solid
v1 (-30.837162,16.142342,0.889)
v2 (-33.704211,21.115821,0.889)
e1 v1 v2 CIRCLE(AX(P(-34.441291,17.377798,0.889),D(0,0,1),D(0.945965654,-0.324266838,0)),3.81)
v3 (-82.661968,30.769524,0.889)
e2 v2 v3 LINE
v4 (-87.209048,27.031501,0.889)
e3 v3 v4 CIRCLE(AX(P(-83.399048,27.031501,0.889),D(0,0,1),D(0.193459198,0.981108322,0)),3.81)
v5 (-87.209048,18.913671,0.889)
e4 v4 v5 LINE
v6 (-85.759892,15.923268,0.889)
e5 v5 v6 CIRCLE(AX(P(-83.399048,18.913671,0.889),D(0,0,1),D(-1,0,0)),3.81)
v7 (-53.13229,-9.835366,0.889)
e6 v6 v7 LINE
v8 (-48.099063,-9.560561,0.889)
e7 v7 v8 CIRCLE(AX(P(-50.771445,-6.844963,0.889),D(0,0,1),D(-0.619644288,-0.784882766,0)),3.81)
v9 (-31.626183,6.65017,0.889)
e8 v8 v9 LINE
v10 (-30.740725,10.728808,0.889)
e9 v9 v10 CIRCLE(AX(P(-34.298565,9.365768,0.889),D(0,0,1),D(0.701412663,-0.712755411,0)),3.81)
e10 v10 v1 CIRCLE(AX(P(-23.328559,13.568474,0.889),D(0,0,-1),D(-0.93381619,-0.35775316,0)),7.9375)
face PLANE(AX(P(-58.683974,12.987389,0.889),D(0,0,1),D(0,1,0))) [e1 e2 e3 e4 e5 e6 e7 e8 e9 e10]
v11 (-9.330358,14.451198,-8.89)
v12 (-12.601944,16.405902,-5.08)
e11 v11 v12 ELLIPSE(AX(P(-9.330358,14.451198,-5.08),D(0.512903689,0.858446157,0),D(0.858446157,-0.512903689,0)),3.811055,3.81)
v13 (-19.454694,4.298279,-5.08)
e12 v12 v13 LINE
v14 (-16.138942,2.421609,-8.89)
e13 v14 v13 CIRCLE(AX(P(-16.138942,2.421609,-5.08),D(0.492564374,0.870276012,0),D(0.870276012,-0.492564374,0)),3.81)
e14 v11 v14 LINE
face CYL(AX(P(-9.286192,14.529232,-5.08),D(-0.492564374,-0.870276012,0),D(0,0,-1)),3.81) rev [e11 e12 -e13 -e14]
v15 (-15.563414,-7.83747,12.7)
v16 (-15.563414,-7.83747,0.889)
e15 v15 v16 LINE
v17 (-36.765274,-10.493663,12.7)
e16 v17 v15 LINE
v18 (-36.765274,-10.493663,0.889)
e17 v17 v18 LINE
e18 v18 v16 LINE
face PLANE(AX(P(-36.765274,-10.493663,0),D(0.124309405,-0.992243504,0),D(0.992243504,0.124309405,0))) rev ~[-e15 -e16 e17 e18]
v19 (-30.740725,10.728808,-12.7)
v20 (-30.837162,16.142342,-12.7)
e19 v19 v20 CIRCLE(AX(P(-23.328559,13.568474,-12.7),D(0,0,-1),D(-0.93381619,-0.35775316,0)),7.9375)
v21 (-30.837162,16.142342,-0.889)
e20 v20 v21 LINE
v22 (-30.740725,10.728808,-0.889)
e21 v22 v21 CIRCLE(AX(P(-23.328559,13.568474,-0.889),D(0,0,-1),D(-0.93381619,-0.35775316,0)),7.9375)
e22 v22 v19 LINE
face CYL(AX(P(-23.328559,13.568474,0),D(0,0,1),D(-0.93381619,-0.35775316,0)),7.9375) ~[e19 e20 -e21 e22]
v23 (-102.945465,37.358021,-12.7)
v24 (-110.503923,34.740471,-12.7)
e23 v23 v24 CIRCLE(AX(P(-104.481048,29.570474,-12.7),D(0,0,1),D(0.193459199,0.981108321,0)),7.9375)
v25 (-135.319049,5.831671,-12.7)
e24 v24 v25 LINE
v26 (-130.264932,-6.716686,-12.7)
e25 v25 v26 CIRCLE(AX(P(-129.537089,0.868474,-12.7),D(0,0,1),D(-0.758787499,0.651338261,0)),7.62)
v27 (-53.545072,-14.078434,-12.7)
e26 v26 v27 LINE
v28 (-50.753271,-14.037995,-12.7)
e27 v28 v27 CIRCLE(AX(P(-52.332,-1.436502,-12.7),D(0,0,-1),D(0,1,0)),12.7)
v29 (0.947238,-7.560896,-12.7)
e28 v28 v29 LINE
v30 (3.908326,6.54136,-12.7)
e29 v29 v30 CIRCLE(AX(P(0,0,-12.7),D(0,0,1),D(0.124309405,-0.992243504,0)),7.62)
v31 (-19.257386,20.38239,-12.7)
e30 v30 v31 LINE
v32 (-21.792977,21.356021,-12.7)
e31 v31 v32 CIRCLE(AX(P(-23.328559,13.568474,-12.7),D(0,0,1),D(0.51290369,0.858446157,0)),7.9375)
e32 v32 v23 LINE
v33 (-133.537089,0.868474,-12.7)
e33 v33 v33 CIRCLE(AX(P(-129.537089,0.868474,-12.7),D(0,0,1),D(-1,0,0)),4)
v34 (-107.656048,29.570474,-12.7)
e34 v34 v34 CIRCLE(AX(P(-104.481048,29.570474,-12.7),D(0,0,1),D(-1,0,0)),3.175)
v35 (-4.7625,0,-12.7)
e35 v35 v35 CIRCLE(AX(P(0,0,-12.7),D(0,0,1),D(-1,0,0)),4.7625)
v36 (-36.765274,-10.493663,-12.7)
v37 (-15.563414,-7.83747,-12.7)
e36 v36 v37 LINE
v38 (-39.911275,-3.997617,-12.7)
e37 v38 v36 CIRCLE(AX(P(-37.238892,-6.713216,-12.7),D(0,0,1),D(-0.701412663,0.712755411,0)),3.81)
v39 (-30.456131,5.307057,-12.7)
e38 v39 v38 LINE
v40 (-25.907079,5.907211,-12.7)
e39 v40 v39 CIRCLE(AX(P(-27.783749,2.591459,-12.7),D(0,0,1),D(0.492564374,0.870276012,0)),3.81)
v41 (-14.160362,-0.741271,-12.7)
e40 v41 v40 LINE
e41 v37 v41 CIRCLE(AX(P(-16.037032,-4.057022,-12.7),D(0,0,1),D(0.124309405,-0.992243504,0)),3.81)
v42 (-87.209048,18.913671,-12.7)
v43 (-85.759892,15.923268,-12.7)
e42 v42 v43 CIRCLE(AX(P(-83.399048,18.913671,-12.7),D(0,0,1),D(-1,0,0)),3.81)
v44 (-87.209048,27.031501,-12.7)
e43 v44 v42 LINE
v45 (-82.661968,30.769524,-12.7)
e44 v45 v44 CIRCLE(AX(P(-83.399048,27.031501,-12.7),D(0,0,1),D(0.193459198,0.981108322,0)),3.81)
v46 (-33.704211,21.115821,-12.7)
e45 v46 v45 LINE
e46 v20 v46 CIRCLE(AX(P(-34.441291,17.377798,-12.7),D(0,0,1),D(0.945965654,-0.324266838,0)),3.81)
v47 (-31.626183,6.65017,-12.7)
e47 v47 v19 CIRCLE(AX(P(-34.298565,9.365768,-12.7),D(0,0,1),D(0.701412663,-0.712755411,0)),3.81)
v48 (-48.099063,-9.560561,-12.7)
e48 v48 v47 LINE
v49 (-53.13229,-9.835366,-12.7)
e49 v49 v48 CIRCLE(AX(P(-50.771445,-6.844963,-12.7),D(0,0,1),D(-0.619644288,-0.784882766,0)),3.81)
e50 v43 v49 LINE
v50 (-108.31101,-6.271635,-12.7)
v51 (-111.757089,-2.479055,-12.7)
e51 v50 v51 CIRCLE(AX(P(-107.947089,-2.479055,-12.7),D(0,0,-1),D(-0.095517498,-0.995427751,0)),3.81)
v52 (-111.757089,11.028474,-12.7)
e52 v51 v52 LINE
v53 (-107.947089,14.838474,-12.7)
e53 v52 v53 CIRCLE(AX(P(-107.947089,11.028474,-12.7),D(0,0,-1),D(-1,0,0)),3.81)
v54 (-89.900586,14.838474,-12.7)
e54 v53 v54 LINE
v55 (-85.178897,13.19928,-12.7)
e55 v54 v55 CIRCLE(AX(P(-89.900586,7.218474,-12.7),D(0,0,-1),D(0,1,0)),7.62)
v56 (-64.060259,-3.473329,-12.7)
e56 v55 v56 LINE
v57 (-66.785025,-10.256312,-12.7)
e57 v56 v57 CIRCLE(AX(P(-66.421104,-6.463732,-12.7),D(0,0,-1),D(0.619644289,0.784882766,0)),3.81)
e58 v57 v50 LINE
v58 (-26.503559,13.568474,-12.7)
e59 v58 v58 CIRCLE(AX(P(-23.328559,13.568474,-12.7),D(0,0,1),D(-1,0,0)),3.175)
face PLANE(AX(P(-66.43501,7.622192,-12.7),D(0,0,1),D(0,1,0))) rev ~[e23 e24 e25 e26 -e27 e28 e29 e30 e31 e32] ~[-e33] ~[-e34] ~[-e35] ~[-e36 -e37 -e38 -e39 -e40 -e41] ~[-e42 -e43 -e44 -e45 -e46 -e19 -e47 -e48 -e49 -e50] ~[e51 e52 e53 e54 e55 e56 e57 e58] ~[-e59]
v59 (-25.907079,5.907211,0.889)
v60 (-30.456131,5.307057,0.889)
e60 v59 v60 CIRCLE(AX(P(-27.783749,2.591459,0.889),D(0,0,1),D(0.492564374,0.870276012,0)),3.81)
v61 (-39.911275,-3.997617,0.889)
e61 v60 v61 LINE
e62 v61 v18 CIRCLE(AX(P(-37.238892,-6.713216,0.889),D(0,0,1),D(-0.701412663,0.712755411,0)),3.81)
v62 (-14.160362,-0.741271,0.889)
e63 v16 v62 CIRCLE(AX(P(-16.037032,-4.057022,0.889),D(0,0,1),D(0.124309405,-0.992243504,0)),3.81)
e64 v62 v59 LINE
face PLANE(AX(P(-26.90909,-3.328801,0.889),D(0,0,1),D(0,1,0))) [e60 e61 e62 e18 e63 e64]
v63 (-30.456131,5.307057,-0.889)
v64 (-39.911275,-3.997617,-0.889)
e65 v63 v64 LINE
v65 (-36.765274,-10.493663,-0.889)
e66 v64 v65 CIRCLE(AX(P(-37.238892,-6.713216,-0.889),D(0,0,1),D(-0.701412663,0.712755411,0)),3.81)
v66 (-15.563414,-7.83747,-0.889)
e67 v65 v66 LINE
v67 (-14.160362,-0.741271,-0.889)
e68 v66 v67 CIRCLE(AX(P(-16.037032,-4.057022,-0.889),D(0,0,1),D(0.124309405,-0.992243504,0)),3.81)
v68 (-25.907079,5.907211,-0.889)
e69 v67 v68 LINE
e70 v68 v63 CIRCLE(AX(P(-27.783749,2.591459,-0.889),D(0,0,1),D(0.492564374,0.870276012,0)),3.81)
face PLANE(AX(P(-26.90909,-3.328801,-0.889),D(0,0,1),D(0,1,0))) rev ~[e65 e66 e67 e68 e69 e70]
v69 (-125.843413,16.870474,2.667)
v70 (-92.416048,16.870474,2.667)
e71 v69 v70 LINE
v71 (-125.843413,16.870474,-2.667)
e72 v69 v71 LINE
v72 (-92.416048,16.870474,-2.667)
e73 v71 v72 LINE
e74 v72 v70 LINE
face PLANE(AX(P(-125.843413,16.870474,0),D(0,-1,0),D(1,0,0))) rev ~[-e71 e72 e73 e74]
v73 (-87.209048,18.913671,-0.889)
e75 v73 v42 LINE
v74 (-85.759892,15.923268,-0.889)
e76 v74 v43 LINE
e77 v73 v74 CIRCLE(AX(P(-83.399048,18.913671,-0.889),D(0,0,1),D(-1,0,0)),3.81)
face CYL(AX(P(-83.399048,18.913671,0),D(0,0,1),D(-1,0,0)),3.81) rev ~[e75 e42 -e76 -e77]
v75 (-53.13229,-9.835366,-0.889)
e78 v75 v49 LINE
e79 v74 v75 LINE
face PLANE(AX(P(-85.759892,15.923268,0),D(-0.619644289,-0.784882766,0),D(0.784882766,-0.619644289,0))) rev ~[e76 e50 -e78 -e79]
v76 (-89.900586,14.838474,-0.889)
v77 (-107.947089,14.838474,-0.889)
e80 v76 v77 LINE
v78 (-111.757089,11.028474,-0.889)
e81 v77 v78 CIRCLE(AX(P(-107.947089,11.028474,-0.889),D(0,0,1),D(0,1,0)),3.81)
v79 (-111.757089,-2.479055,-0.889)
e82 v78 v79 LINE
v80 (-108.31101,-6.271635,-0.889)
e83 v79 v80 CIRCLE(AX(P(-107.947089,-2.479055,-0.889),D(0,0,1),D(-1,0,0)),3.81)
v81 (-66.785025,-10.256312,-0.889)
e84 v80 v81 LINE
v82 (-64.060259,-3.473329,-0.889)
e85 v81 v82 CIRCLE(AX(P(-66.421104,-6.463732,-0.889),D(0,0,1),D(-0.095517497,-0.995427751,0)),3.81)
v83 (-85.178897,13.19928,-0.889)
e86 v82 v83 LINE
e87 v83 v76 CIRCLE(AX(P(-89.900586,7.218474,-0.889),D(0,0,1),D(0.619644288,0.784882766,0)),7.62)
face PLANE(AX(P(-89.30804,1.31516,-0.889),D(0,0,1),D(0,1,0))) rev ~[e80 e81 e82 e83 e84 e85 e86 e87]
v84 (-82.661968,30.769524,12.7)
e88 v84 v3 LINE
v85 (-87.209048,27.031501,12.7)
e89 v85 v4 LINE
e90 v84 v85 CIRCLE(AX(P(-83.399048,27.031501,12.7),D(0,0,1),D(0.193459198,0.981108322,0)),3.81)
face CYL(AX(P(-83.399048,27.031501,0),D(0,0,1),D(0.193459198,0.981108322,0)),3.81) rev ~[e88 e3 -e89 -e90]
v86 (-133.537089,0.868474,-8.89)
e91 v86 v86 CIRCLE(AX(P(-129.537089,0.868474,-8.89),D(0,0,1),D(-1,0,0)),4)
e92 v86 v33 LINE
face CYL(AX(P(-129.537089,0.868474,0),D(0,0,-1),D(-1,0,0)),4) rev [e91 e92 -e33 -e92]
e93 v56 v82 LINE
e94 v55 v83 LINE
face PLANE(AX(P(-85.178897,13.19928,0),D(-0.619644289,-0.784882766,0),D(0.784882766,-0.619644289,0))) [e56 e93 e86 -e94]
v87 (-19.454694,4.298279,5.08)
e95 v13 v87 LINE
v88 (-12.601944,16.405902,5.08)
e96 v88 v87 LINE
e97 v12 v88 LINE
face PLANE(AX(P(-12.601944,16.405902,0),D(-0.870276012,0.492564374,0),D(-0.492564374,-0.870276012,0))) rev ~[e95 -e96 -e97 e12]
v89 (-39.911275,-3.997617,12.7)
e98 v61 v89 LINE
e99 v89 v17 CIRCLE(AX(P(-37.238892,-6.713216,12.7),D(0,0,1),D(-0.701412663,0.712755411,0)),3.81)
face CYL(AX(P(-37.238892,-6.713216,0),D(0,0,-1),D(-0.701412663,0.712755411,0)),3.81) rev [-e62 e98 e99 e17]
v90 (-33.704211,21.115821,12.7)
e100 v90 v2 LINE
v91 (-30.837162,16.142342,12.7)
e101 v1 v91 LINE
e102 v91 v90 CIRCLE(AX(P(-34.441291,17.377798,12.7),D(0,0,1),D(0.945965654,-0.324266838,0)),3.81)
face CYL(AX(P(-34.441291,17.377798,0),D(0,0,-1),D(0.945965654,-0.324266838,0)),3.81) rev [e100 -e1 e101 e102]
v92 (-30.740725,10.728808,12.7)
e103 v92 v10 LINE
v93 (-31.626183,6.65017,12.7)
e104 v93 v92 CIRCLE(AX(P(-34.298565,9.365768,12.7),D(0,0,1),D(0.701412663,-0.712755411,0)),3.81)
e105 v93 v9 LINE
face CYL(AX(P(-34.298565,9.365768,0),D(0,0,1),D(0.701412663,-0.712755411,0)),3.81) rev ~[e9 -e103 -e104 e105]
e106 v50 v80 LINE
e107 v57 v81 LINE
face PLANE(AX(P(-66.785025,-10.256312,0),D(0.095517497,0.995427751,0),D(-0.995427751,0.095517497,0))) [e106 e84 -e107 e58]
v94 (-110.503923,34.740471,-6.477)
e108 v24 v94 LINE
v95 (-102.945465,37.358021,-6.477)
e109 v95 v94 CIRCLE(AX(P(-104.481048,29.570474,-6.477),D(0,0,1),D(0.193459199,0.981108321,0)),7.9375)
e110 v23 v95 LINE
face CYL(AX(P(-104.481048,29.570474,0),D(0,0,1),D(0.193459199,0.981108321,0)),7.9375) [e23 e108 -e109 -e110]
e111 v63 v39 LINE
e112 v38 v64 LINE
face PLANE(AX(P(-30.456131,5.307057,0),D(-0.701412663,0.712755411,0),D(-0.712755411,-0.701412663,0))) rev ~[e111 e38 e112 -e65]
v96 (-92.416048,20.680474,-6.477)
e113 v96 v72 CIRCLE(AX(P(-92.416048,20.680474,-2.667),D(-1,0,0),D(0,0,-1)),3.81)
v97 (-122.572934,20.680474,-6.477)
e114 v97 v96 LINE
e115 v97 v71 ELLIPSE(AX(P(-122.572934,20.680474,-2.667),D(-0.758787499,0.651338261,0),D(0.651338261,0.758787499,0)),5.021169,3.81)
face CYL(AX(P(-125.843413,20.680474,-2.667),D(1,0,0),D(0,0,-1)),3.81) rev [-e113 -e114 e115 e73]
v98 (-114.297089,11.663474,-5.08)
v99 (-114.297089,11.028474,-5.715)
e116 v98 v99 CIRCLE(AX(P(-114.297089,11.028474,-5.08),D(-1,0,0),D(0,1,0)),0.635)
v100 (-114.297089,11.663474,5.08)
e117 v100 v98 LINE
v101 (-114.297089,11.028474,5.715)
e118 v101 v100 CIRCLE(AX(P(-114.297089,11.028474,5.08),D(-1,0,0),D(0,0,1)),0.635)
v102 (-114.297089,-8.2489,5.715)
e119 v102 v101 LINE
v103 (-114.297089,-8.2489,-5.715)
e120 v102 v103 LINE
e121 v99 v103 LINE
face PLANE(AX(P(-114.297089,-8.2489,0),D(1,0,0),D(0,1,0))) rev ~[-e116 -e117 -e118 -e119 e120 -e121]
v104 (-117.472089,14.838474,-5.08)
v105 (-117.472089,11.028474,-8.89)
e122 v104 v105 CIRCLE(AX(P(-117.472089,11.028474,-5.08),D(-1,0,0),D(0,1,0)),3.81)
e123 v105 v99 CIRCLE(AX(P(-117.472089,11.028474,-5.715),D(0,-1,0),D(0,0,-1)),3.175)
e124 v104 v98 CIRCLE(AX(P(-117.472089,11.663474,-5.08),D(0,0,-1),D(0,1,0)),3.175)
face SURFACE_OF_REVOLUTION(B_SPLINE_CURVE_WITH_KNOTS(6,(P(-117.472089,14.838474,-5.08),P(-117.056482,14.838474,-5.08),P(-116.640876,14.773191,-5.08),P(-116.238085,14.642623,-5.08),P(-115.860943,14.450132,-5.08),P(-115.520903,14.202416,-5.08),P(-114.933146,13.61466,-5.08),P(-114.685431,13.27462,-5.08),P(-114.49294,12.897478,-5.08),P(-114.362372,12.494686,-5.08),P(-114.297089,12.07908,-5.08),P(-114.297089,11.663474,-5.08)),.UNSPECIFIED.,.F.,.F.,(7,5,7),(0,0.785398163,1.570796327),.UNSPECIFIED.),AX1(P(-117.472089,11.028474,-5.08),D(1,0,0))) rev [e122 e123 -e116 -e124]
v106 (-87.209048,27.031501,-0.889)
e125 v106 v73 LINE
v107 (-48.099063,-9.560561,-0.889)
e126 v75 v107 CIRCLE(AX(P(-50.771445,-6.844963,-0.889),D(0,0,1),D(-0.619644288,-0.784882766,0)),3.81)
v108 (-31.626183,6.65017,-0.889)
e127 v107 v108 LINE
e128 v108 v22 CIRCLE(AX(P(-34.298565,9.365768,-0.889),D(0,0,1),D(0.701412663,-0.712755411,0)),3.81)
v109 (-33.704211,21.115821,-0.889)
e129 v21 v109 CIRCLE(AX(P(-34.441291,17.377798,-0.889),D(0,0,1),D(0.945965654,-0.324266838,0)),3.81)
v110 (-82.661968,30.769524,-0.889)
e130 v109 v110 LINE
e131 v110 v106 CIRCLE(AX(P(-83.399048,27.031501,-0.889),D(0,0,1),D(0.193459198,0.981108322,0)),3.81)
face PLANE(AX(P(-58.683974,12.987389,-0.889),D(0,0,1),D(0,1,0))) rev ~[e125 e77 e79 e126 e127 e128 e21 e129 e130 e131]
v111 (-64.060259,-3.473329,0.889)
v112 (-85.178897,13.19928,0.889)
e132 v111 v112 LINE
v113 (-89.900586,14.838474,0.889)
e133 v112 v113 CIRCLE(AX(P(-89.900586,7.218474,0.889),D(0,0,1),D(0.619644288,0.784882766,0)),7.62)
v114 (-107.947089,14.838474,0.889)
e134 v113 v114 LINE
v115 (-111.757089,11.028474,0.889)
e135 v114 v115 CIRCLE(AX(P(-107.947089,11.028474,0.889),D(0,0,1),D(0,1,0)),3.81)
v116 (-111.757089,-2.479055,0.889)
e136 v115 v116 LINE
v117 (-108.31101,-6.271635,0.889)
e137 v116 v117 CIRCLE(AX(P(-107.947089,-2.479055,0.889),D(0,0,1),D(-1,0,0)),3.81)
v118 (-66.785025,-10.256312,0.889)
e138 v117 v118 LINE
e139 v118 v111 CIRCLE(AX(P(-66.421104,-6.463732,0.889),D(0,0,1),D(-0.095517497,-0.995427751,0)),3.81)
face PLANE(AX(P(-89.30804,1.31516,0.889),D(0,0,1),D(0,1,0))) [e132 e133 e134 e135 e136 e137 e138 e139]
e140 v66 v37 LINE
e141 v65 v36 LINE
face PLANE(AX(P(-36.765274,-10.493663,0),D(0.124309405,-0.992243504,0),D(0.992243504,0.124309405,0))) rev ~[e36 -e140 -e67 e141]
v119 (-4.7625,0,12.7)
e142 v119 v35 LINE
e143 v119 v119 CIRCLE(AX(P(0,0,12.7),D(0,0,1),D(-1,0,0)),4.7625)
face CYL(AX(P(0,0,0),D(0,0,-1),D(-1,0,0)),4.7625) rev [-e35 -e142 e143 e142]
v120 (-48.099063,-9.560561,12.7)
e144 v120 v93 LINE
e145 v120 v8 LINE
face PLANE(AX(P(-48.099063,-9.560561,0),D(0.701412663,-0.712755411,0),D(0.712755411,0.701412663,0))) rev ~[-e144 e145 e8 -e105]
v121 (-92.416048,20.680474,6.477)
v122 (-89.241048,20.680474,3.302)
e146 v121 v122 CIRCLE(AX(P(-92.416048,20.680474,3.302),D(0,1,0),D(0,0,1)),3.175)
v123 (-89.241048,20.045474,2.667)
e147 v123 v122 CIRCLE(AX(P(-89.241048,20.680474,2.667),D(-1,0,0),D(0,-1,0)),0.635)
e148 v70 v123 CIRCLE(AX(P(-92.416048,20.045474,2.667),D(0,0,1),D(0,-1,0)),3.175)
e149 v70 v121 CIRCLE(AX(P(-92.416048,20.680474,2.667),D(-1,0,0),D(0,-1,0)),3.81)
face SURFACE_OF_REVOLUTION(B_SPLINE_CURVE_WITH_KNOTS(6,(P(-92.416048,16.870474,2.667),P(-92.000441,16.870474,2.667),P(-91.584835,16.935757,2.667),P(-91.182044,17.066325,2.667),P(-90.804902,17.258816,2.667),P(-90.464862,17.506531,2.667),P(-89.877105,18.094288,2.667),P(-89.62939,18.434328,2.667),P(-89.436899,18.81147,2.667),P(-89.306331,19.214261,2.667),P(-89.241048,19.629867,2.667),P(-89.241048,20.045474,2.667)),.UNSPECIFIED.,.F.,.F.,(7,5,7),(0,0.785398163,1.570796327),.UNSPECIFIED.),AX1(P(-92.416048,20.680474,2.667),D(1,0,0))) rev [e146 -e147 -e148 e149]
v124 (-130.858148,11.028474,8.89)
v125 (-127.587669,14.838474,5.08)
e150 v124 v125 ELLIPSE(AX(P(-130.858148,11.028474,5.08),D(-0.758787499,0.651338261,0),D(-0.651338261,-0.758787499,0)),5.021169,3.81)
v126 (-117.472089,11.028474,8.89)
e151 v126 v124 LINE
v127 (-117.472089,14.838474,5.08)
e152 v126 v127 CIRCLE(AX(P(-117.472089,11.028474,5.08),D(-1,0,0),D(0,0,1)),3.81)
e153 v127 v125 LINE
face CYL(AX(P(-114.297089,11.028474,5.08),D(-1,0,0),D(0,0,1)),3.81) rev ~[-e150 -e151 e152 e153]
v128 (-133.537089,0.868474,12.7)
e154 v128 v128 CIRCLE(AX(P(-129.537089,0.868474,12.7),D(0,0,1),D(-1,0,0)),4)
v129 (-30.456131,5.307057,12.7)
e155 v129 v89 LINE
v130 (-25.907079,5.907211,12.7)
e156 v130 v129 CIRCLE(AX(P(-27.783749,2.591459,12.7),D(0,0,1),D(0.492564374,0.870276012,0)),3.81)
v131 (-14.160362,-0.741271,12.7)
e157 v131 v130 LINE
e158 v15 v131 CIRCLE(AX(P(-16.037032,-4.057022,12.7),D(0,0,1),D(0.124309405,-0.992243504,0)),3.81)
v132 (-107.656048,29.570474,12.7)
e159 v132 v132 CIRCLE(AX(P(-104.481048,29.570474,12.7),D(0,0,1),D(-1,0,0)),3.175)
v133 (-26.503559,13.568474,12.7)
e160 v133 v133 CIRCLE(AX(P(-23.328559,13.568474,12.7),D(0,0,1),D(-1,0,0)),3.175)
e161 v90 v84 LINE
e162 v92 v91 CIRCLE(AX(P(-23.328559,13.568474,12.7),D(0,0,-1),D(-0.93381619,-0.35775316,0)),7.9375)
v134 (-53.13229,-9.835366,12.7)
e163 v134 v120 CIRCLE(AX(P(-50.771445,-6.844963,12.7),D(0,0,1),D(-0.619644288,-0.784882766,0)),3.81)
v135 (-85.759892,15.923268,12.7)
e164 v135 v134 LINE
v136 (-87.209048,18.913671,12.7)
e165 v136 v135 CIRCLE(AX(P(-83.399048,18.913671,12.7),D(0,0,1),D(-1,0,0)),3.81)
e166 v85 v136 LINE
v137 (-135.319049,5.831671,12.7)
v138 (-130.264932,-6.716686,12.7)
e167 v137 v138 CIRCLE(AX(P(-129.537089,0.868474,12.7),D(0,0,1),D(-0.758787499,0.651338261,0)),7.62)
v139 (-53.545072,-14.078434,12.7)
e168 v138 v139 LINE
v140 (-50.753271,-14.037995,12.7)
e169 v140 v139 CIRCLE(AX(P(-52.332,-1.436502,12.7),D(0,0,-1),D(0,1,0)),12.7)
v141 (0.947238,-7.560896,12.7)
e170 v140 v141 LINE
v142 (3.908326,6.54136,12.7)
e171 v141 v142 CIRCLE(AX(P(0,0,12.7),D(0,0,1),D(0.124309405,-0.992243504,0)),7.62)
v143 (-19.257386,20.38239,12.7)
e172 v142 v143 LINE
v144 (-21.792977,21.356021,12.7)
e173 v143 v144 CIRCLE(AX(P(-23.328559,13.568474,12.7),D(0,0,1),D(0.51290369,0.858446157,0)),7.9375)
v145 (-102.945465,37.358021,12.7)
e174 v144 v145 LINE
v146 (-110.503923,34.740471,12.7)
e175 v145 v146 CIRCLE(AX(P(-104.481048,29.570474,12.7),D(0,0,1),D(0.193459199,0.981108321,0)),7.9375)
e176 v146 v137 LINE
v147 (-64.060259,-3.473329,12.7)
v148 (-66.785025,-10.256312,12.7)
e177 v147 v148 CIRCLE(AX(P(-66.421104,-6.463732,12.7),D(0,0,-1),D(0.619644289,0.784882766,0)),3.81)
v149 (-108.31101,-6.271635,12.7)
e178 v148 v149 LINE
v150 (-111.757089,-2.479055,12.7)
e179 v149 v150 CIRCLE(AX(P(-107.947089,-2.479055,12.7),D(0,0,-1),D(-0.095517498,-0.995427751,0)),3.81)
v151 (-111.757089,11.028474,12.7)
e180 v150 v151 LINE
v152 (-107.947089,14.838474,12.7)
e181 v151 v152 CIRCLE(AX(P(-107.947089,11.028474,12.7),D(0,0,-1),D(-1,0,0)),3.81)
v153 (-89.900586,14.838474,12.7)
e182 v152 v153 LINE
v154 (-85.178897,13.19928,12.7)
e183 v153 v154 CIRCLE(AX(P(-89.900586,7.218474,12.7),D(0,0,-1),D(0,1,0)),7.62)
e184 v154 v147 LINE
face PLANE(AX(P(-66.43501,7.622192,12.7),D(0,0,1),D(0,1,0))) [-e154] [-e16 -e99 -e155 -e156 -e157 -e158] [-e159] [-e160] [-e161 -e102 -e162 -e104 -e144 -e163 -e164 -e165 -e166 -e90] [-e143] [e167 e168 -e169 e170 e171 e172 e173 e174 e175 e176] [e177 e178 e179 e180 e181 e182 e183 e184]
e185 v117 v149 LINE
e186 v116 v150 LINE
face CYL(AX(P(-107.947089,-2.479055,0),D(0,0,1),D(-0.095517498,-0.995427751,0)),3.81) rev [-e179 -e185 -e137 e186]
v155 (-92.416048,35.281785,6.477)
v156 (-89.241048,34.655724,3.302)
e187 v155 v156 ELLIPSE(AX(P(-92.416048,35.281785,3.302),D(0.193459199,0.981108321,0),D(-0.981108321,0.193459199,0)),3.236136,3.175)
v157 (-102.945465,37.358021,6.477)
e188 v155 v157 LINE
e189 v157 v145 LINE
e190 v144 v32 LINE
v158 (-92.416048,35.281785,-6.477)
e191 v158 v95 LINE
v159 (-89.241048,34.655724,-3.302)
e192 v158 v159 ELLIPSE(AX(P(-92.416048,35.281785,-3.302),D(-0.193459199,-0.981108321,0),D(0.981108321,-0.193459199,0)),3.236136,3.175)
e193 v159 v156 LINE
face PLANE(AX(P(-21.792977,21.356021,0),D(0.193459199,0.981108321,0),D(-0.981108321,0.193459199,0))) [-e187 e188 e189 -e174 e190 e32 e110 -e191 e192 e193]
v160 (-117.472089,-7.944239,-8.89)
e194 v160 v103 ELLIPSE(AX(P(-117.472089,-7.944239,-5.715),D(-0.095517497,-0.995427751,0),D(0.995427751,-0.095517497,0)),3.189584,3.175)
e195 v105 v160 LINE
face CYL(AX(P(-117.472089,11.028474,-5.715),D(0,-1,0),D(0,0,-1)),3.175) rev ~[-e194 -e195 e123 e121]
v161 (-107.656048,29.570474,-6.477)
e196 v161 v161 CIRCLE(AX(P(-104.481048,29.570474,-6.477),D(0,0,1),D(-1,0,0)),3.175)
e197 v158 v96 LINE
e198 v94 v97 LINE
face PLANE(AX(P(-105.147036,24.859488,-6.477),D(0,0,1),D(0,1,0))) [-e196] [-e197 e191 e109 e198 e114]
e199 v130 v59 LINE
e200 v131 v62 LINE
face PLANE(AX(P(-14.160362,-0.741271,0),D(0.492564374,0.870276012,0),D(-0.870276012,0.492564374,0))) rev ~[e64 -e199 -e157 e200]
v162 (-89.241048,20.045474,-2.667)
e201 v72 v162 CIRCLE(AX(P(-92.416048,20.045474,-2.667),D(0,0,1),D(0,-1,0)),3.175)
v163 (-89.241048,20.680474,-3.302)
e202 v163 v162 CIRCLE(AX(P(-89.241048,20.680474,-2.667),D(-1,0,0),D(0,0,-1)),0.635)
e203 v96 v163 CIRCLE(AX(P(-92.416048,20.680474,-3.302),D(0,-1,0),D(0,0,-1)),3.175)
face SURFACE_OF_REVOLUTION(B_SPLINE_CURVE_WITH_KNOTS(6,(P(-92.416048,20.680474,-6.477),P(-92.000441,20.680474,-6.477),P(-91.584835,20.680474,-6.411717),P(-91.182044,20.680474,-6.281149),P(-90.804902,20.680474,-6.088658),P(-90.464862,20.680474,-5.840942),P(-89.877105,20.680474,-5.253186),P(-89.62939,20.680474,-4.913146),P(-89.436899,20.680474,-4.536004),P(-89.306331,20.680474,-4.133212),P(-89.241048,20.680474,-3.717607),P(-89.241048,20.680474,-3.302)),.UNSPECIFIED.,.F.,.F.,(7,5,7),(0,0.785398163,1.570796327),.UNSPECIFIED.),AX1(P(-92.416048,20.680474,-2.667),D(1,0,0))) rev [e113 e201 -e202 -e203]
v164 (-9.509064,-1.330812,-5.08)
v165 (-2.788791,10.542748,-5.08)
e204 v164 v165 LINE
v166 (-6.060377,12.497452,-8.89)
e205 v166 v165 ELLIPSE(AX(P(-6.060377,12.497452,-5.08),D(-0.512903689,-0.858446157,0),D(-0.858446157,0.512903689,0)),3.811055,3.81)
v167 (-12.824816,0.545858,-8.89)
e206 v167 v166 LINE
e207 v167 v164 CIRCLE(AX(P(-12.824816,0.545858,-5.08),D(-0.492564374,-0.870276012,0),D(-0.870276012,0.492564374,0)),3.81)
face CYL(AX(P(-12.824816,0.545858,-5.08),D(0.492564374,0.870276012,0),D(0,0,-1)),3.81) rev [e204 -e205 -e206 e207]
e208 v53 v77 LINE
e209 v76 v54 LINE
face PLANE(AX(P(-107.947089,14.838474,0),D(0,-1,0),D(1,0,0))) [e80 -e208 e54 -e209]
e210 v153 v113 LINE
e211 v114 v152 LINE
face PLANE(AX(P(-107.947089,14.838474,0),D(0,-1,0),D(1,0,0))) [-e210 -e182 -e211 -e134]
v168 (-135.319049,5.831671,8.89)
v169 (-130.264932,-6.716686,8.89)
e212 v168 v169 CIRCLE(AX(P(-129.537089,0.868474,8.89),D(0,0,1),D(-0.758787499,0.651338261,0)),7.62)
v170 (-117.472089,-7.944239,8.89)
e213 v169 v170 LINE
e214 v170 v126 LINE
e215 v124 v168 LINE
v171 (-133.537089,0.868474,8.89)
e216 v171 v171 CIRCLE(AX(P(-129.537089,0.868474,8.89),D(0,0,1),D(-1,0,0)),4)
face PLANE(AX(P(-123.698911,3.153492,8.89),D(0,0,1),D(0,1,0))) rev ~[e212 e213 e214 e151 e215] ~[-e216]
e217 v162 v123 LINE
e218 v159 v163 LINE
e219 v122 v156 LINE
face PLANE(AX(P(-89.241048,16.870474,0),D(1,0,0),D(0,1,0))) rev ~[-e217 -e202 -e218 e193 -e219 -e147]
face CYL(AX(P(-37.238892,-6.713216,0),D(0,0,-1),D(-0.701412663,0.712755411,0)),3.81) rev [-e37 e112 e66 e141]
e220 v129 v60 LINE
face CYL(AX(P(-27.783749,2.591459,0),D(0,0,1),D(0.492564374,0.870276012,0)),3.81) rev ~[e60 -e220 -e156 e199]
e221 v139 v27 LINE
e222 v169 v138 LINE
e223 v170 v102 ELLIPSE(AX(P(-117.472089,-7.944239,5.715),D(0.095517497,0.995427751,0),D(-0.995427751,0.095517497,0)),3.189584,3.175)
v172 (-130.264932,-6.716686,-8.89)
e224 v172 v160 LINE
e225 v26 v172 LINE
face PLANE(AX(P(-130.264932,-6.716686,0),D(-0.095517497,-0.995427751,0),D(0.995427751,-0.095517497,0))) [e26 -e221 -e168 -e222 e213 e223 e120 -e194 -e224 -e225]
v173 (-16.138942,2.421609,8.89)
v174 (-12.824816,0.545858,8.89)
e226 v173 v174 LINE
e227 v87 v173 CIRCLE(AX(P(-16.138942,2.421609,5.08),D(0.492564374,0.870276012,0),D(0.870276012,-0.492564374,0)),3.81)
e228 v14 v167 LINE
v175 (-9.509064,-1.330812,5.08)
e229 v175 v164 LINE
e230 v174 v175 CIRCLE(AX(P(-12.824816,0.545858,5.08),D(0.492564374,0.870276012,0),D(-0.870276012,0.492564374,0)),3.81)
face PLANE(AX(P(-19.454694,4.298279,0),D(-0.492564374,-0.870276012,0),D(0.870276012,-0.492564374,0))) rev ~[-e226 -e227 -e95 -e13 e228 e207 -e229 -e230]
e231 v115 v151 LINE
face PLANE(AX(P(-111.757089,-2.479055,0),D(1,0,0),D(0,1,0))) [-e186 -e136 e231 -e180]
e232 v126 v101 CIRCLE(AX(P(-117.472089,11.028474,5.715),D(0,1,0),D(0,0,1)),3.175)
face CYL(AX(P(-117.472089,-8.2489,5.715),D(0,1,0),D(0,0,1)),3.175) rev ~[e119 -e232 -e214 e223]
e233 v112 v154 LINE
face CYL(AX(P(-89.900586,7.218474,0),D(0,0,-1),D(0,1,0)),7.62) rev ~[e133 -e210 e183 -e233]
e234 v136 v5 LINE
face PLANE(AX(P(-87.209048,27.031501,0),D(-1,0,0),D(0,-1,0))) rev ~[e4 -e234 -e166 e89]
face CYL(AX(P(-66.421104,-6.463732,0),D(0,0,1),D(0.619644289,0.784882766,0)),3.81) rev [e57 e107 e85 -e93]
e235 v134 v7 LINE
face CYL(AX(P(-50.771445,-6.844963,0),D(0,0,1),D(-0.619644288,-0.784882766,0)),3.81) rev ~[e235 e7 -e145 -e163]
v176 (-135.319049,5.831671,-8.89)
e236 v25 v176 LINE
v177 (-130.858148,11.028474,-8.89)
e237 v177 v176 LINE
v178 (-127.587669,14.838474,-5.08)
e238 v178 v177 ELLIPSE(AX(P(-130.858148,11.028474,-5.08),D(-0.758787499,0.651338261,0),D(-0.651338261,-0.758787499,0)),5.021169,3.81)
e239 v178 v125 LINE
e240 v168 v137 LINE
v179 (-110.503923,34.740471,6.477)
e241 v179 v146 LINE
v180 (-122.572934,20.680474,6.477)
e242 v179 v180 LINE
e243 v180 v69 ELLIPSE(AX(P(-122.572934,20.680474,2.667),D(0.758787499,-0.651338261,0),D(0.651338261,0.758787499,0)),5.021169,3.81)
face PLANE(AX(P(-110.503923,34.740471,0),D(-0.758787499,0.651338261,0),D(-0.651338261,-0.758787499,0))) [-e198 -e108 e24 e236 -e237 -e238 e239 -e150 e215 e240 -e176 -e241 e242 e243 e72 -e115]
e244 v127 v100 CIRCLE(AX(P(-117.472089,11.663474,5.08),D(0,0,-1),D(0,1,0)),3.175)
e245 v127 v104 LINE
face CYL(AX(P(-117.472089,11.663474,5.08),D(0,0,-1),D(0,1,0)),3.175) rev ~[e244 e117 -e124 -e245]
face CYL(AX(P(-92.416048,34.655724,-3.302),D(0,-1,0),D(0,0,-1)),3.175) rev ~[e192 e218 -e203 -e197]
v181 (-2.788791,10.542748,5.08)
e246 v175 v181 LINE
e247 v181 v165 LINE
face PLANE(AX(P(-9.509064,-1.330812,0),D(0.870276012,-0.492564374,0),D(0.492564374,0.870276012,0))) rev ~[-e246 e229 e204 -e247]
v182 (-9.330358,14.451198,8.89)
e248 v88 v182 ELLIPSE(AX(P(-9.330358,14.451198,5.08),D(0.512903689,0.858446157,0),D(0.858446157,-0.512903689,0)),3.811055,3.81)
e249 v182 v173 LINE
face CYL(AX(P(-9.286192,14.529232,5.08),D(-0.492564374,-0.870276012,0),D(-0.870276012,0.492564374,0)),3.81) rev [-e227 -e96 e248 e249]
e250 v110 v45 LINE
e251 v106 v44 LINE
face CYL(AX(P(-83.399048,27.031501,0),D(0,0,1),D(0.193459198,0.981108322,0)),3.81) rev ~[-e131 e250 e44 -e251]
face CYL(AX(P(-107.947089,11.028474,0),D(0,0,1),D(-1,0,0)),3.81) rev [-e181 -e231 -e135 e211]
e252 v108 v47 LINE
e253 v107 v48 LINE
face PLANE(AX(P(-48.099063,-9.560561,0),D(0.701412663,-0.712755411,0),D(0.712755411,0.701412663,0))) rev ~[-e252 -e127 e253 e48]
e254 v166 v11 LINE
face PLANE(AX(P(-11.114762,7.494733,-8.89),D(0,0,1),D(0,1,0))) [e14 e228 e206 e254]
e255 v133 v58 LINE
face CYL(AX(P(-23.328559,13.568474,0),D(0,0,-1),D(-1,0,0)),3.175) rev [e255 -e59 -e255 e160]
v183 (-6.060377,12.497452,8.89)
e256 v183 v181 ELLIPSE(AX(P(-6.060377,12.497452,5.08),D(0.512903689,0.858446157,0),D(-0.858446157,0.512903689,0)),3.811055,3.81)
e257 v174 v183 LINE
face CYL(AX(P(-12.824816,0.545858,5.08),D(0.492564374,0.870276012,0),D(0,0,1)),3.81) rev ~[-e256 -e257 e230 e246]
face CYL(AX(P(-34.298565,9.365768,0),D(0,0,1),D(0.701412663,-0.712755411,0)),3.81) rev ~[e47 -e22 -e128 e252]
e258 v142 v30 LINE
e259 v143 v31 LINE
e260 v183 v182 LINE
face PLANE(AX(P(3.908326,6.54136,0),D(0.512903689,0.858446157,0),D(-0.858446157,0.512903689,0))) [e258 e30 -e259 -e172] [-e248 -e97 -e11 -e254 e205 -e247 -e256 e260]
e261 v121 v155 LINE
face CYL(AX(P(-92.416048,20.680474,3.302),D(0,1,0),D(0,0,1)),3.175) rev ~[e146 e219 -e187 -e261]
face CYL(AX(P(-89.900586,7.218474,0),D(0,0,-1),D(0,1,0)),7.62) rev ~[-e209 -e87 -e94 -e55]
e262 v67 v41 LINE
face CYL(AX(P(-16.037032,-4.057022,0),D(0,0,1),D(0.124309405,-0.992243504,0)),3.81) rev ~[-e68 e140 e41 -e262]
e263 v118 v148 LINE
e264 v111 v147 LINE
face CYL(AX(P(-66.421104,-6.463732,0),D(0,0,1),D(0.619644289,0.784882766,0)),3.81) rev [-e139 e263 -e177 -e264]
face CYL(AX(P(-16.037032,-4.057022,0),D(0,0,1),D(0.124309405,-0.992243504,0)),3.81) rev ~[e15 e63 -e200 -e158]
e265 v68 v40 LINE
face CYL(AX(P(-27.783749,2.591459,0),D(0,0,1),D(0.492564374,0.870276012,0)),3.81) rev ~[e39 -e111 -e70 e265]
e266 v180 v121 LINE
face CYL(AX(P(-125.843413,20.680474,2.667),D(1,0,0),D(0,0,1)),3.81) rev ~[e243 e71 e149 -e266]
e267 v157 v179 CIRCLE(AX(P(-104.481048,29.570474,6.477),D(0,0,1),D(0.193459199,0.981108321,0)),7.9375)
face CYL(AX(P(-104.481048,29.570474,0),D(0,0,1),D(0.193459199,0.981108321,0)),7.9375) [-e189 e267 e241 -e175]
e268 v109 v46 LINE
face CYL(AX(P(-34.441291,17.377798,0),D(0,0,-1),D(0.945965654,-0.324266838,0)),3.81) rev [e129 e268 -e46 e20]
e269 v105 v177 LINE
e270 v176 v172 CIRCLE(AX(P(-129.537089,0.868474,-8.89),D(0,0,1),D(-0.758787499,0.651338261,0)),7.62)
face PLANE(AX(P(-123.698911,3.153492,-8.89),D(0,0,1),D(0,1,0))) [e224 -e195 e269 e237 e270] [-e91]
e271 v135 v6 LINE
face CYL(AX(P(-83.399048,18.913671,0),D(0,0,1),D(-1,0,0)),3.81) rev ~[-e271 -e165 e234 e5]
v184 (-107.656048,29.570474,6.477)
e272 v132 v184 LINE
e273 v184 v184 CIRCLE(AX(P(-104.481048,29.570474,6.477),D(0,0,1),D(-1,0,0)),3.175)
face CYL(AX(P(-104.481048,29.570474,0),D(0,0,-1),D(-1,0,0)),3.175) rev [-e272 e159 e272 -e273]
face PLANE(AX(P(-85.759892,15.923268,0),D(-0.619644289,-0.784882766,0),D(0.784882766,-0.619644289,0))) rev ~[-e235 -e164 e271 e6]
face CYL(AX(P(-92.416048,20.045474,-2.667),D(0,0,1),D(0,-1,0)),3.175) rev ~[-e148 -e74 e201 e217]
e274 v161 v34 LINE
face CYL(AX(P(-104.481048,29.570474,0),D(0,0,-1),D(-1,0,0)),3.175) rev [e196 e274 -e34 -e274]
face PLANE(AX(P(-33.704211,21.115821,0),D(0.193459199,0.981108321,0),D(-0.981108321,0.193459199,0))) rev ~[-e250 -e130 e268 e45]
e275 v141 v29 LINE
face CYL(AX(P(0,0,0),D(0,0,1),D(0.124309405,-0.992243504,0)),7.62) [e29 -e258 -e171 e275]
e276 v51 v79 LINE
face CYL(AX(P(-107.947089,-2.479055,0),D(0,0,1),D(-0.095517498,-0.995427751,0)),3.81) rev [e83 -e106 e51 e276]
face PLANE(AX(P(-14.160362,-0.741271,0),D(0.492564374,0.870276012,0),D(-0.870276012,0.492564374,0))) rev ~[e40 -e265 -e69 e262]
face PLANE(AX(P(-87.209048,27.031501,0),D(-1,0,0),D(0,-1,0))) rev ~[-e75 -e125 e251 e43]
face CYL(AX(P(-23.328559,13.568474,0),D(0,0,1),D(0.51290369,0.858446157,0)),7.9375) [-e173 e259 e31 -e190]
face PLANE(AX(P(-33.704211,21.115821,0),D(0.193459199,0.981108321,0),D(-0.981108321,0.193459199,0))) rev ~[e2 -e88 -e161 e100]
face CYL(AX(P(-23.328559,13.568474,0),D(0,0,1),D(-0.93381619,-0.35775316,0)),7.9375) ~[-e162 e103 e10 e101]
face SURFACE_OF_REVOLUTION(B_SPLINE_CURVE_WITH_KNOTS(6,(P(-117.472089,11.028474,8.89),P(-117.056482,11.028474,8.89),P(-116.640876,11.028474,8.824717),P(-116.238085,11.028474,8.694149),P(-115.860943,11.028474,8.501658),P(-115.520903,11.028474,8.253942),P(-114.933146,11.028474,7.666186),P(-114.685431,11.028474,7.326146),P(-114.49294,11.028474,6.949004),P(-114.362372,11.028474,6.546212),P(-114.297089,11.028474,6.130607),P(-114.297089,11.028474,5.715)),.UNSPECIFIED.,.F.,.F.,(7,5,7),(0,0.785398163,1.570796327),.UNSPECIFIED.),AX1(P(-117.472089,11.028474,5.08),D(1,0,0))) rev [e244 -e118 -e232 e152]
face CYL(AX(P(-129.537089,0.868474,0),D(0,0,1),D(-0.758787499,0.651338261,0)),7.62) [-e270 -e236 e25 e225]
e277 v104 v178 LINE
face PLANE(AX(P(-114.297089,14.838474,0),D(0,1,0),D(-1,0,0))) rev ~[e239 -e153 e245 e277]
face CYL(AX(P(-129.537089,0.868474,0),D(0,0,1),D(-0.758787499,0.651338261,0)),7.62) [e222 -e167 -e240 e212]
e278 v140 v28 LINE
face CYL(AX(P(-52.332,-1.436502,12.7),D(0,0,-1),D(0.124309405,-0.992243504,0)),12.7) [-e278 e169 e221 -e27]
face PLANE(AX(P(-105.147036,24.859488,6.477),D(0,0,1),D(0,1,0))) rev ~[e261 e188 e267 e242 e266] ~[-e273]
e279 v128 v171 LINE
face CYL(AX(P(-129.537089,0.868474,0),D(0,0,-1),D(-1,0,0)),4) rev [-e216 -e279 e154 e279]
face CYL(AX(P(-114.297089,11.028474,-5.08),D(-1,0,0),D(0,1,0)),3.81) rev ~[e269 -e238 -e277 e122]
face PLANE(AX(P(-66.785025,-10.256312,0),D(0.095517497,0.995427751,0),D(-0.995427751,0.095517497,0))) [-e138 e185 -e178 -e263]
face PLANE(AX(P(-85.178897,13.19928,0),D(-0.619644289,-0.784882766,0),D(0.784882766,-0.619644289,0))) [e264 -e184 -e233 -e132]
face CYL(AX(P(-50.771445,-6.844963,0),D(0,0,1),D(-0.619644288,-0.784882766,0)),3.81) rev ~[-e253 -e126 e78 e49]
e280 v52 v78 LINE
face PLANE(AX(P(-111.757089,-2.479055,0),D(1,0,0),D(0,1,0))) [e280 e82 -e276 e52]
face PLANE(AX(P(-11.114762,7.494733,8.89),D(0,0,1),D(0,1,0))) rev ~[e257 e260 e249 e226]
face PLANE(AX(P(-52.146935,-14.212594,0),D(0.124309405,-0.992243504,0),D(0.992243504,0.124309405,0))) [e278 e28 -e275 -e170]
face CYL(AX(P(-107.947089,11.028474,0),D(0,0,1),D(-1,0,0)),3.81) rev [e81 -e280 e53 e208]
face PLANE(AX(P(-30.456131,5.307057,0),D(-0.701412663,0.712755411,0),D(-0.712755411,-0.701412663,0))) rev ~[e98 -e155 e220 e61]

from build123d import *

# Parameters (mm, degrees)
SKETCH1_R           = 4.7625
SKETCH1_R_2         = 3.175
SKETCH1_R_3         = 4
BOSS_EXTRUDE1_DEPTH = 12.7
BOSS_EXTRUDE2_DEPTH = 0.889
SKETCH1_6_R         = 3.175
CUT_EXTRUDE1_DEPTH  = 6.477
SKETCH1_7_R         = 4
CUT_EXTRUDE2_DEPTH  = 8.89
CUT_EXTRUDE3_DEPTH  = 8.89
FILLET1_R           = 3.81
FILLET2_R           = 3.175
FILLET3_R           = 12.7


with BuildPart() as part:
    # Sketch1 → Boss-Extrude1 (new, symmetric)
    with BuildSketch(Plane(origin=(0, 0, 0), x_dir=(0, 1, 0), z_dir=(0, 0, 1))):
        with BuildLine():
            ThreePointArc((20.382390084, 19.257386231), (20.978466311, 20.483226967), (21.356021011, 21.792976878))
            Line((21.356021011, 21.792976878), (37.358021011, 102.945465221))
            ThreePointArc((37.358021011, 102.945465221), (37.070944625, 107.078516049), (34.740471159, 110.503923386))
            Line((34.740471159, 110.503923386), (5.831671261, 135.319049463))
            ThreePointArc((5.831671261, 135.319049463), (-1.978401206, 136.605306542), (-6.716685754, 130.264932046))
            Line((-6.716685754, 130.264932046), (-14.212594445, 52.146935376))
            Line((-14.212594445, 52.146935376), (-7.560895503, -0.947237667))
            ThreePointArc((-7.560895503, -0.947237667), (-1.565846257, -7.457380606), (6.54135972, -3.908326114))
            Line((6.54135972, -3.908326114), (20.382390084, 19.257386231))
        make_face()
        with BuildLine():
            Line((-7.837469994, 15.563413639), (-10.493663341, 36.765273562))
            ThreePointArc((-10.493663341, 36.765273562), (-8.373880181, 40.667929158), (-3.997617473, 39.911274641))
            Line((-3.997617473, 39.911274641), (5.30705743, 30.456131128))
            ThreePointArc((5.30705743, 30.456131128), (6.36872877, 28.282081545), (5.907210919, 25.907078618))
            Line((5.907210919, 25.907078618), (-0.741270636, 14.160362208))
            ThreePointArc((-0.741270636, 14.160362208), (-4.796024243, 12.29938936), (-7.837469994, 15.563413639))
        make_face(mode=Mode.SUBTRACT)
        Circle(SKETCH1_R, mode=Mode.SUBTRACT)
        with BuildLine():
            Line((-9.835366262, 53.132289554), (15.923267524, 85.759892349))
            ThreePointArc((15.923267524, 85.759892349), (17.252153249, 86.827671128), (18.91367086, 87.20904761))
            Line((18.91367086, 87.20904761), (27.031501436, 87.20904761))
            ThreePointArc((27.031501436, 87.20904761), (29.974660714, 85.818533808), (30.769524141, 82.661968063))
            Line((30.769524141, 82.661968063), (21.115821085, 33.704211238))
            ThreePointArc((21.115821085, 33.704211238), (19.280612759, 31.140473092), (16.14234173, 30.837161644))
            ThreePointArc((16.14234173, 30.837161644), (13.427097985, 31.264800137), (10.728808005, 30.740725275))
            ThreePointArc((10.728808005, 30.740725275), (8.557460112, 30.575295213), (6.65017035, 31.626182714))
            Line((6.65017035, 31.626182714), (-9.560561043, 48.099062569))
            ThreePointArc((-9.560561043, 48.099062569), (-10.649296851, 50.563734965), (-9.835366262, 53.132289554))
        make_face(mode=Mode.SUBTRACT)
        with Locations((13.568473709, 23.328559267)):
            Circle(SKETCH1_R_2, mode=Mode.SUBTRACT)
        with BuildLine():
            ThreePointArc((-6.271634521, 108.311010382), (-5.041237302, 110.766897358), (-2.479054789, 111.757088718))
            Line((-2.479054789, 111.757088718), (11.028473709, 111.757088718))
            ThreePointArc((11.028473709, 111.757088718), (13.722550546, 110.641165554), (14.838473709, 107.947088718))
            Line((14.838473709, 107.947088718), (14.838473709, 89.9005863))
            ThreePointArc((14.838473709, 89.9005863), (14.417020328, 87.40152116), (13.199280383, 85.178896821))
            Line((13.199280383, 85.178896821), (-3.47332856, 64.060258828))
            ThreePointArc((-3.47332856, 64.060258828), (-7.883928971, 62.885691248), (-10.256311628, 66.785025232))
            Line((-10.256311628, 66.785025232), (-6.271634521, 108.311010382))
        make_face(mode=Mode.SUBTRACT)
        with Locations((0.868473709, 129.537088718)):
            Circle(SKETCH1_R_3, mode=Mode.SUBTRACT)
        with Locations((29.570473709, 104.48104761)):
            Circle(SKETCH1_R_2, mode=Mode.SUBTRACT)
    extrude(amount=BOSS_EXTRUDE1_DEPTH, both=True)

    # Sketch1<5> → Boss-Extrude2 (add, symmetric)
    with BuildSketch(Plane(origin=(0, 0, 0), x_dir=(0, 1, 0), z_dir=(0, 0, 1))):
        with BuildLine():
            Line((11.028473709, 111.757088718), (-2.479054789, 111.757088718))
            ThreePointArc((-2.479054789, 111.757088718), (-5.041237302, 110.766897358), (-6.271634521, 108.311010382))
            Line((-6.271634521, 108.311010382), (-10.256311628, 66.785025232))
            ThreePointArc((-10.256311628, 66.785025232), (-7.883928971, 62.885691248), (-3.47332856, 64.060258828))
            Line((-3.47332856, 64.060258828), (13.199280383, 85.178896821))
            ThreePointArc((13.199280383, 85.178896821), (14.417020328, 87.40152116), (14.838473709, 89.9005863))
            Line((14.838473709, 89.9005863), (14.838473709, 107.947088718))
            ThreePointArc((14.838473709, 107.947088718), (13.722550546, 110.641165554), (11.028473709, 111.757088718))
        make_face()
        with BuildLine():
            ThreePointArc((18.91367086, 87.20904761), (17.252153249, 86.827671128), (15.923267524, 85.759892349))
            Line((15.923267524, 85.759892349), (-9.835366262, 53.132289554))
            ThreePointArc((-9.835366262, 53.132289554), (-10.649296851, 50.563734965), (-9.560561043, 48.099062569))
            Line((-9.560561043, 48.099062569), (6.65017035, 31.626182714))
            ThreePointArc((6.65017035, 31.626182714), (8.557460112, 30.575295213), (10.728808005, 30.740725275))
            ThreePointArc((10.728808005, 30.740725275), (13.427097985, 31.264800137), (16.14234173, 30.837161644))
            ThreePointArc((16.14234173, 30.837161644), (19.280612759, 31.140473092), (21.115821085, 33.704211238))
            Line((21.115821085, 33.704211238), (30.769524141, 82.661968063))
            ThreePointArc((30.769524141, 82.661968063), (29.974660714, 85.818533808), (27.031501436, 87.20904761))
            Line((27.031501436, 87.20904761), (18.91367086, 87.20904761))
        make_face()
        with BuildLine():
            ThreePointArc((-3.997617473, 39.911274641), (-8.373880181, 40.667929158), (-10.493663341, 36.765273562))
            Line((-10.493663341, 36.765273562), (-7.837469994, 15.563413639))
            ThreePointArc((-7.837469994, 15.563413639), (-4.796024243, 12.29938936), (-0.741270636, 14.160362208))
            Line((-0.741270636, 14.160362208), (5.907210919, 25.907078618))
            ThreePointArc((5.907210919, 25.907078618), (6.36872877, 28.282081545), (5.30705743, 30.456131128))
            Line((5.30705743, 30.456131128), (-3.997617473, 39.911274641))
        make_face()
    extrude(amount=BOSS_EXTRUDE2_DEPTH, both=True)

    # Sketch1<6> → Cut-Extrude1 (cut, symmetric)
    with BuildSketch(Plane(origin=(0, 0, 0), x_dir=(0, 1, 0), z_dir=(0, 0, 1))):
        with BuildLine():
            Line((16.870473709, 89.24104761), (34.655724444, 89.24104761))
            Line((34.655724444, 89.24104761), (37.358021011, 102.945465221))
            ThreePointArc((37.358021011, 102.945465221), (37.070944625, 107.078516049), (34.740471159, 110.503923386))
            Line((34.740471159, 110.503923386), (16.870473709, 125.843413136))
            Line((16.870473709, 125.843413136), (16.870473709, 89.24104761))
        make_face()
        with Locations((29.570473709, 104.48104761)):
            Circle(SKETCH1_6_R, mode=Mode.SUBTRACT)
    extrude(amount=CUT_EXTRUDE1_DEPTH, both=True, mode=Mode.SUBTRACT)

    # Sketch1<7> → Cut-Extrude2 (cut, symmetric)
    with BuildSketch(Plane(origin=(0, 0, 0), x_dir=(0, 1, 0), z_dir=(0, 0, 1))):
        with BuildLine():
            Line((14.838473709, 114.297088718), (14.838473709, 127.587668738))
            Line((14.838473709, 127.587668738), (5.831671261, 135.319049463))
            ThreePointArc((5.831671261, 135.319049463), (-1.978401206, 136.605306542), (-6.716685754, 130.264932046))
            Line((-6.716685754, 130.264932046), (-8.248899849, 114.297088718))
            Line((-8.248899849, 114.297088718), (14.838473709, 114.297088718))
        make_face()
        with Locations((0.868473709, 129.537088718)):
            Circle(SKETCH1_7_R, mode=Mode.SUBTRACT)
    extrude(amount=CUT_EXTRUDE2_DEPTH, both=True, mode=Mode.SUBTRACT)

    # Sketch1<9> → Cut-Extrude3 (cut, symmetric)
    with BuildSketch(Plane(origin=(0, 0, 0), x_dir=(0, 1, 0), z_dir=(0, 0, 1))):
        Polygon((10.542747735, 2.788791174), (16.405901968, 12.601943868), (4.298278893, 19.454693681), (-1.330811933, 9.509064286), align=None)
    extrude(amount=CUT_EXTRUDE3_DEPTH, both=True, mode=Mode.SUBTRACT)

    # Fillet1
    fillet1_edges = [part.edges().sort_by_distance(p)[0] for p in [
        (-120.942378728, 14.838473709, 8.89),
        (-120.942378728, 14.838473709, -8.89),
        (-107.542230373, 16.870473709, 6.477),
        (-107.542230373, 16.870473709, -6.477),
        (-6.14892773, 4.605967901, -8.89),
        (-16.028318774, 10.352090431, -8.89),
        (-16.028318774, 10.352090431, 8.89),
        (-6.14892773, 4.605967901, 8.89),
    ]]
    fillet(fillet1_edges, radius=FILLET1_R)

    # Fillet2
    fillet2_edges = [part.edges().sort_by_distance(p)[0] for p in [
        (-89.24104761, 27.668099077, -6.477),
        (-89.24104761, 17.986396873, -5.361076836),
        (-89.24104761, 27.668099077, 6.477),
        (-89.24104761, 17.986396873, 5.361076836),
        (-89.24104761, 16.870473709, 0),
        (-114.297088718, 1.38978693, -8.89),
        (-114.297088718, 13.722550546, -7.774076836),
        (-114.297088718, 1.38978693, 8.89),
        (-114.297088718, 13.722550546, 7.774076836),
        (-114.297088718, 14.838473709, 0),
    ]]
    fillet(fillet2_edges, radius=FILLET2_R)

    # Fillet3
    fillet3_edges = [part.edges().sort_by_distance(p)[0] for p in [
        (-52.146935376, -14.212594445, 0),
    ]]
    fillet(fillet3_edges, radius=FILLET3_R)


solid = part.part
